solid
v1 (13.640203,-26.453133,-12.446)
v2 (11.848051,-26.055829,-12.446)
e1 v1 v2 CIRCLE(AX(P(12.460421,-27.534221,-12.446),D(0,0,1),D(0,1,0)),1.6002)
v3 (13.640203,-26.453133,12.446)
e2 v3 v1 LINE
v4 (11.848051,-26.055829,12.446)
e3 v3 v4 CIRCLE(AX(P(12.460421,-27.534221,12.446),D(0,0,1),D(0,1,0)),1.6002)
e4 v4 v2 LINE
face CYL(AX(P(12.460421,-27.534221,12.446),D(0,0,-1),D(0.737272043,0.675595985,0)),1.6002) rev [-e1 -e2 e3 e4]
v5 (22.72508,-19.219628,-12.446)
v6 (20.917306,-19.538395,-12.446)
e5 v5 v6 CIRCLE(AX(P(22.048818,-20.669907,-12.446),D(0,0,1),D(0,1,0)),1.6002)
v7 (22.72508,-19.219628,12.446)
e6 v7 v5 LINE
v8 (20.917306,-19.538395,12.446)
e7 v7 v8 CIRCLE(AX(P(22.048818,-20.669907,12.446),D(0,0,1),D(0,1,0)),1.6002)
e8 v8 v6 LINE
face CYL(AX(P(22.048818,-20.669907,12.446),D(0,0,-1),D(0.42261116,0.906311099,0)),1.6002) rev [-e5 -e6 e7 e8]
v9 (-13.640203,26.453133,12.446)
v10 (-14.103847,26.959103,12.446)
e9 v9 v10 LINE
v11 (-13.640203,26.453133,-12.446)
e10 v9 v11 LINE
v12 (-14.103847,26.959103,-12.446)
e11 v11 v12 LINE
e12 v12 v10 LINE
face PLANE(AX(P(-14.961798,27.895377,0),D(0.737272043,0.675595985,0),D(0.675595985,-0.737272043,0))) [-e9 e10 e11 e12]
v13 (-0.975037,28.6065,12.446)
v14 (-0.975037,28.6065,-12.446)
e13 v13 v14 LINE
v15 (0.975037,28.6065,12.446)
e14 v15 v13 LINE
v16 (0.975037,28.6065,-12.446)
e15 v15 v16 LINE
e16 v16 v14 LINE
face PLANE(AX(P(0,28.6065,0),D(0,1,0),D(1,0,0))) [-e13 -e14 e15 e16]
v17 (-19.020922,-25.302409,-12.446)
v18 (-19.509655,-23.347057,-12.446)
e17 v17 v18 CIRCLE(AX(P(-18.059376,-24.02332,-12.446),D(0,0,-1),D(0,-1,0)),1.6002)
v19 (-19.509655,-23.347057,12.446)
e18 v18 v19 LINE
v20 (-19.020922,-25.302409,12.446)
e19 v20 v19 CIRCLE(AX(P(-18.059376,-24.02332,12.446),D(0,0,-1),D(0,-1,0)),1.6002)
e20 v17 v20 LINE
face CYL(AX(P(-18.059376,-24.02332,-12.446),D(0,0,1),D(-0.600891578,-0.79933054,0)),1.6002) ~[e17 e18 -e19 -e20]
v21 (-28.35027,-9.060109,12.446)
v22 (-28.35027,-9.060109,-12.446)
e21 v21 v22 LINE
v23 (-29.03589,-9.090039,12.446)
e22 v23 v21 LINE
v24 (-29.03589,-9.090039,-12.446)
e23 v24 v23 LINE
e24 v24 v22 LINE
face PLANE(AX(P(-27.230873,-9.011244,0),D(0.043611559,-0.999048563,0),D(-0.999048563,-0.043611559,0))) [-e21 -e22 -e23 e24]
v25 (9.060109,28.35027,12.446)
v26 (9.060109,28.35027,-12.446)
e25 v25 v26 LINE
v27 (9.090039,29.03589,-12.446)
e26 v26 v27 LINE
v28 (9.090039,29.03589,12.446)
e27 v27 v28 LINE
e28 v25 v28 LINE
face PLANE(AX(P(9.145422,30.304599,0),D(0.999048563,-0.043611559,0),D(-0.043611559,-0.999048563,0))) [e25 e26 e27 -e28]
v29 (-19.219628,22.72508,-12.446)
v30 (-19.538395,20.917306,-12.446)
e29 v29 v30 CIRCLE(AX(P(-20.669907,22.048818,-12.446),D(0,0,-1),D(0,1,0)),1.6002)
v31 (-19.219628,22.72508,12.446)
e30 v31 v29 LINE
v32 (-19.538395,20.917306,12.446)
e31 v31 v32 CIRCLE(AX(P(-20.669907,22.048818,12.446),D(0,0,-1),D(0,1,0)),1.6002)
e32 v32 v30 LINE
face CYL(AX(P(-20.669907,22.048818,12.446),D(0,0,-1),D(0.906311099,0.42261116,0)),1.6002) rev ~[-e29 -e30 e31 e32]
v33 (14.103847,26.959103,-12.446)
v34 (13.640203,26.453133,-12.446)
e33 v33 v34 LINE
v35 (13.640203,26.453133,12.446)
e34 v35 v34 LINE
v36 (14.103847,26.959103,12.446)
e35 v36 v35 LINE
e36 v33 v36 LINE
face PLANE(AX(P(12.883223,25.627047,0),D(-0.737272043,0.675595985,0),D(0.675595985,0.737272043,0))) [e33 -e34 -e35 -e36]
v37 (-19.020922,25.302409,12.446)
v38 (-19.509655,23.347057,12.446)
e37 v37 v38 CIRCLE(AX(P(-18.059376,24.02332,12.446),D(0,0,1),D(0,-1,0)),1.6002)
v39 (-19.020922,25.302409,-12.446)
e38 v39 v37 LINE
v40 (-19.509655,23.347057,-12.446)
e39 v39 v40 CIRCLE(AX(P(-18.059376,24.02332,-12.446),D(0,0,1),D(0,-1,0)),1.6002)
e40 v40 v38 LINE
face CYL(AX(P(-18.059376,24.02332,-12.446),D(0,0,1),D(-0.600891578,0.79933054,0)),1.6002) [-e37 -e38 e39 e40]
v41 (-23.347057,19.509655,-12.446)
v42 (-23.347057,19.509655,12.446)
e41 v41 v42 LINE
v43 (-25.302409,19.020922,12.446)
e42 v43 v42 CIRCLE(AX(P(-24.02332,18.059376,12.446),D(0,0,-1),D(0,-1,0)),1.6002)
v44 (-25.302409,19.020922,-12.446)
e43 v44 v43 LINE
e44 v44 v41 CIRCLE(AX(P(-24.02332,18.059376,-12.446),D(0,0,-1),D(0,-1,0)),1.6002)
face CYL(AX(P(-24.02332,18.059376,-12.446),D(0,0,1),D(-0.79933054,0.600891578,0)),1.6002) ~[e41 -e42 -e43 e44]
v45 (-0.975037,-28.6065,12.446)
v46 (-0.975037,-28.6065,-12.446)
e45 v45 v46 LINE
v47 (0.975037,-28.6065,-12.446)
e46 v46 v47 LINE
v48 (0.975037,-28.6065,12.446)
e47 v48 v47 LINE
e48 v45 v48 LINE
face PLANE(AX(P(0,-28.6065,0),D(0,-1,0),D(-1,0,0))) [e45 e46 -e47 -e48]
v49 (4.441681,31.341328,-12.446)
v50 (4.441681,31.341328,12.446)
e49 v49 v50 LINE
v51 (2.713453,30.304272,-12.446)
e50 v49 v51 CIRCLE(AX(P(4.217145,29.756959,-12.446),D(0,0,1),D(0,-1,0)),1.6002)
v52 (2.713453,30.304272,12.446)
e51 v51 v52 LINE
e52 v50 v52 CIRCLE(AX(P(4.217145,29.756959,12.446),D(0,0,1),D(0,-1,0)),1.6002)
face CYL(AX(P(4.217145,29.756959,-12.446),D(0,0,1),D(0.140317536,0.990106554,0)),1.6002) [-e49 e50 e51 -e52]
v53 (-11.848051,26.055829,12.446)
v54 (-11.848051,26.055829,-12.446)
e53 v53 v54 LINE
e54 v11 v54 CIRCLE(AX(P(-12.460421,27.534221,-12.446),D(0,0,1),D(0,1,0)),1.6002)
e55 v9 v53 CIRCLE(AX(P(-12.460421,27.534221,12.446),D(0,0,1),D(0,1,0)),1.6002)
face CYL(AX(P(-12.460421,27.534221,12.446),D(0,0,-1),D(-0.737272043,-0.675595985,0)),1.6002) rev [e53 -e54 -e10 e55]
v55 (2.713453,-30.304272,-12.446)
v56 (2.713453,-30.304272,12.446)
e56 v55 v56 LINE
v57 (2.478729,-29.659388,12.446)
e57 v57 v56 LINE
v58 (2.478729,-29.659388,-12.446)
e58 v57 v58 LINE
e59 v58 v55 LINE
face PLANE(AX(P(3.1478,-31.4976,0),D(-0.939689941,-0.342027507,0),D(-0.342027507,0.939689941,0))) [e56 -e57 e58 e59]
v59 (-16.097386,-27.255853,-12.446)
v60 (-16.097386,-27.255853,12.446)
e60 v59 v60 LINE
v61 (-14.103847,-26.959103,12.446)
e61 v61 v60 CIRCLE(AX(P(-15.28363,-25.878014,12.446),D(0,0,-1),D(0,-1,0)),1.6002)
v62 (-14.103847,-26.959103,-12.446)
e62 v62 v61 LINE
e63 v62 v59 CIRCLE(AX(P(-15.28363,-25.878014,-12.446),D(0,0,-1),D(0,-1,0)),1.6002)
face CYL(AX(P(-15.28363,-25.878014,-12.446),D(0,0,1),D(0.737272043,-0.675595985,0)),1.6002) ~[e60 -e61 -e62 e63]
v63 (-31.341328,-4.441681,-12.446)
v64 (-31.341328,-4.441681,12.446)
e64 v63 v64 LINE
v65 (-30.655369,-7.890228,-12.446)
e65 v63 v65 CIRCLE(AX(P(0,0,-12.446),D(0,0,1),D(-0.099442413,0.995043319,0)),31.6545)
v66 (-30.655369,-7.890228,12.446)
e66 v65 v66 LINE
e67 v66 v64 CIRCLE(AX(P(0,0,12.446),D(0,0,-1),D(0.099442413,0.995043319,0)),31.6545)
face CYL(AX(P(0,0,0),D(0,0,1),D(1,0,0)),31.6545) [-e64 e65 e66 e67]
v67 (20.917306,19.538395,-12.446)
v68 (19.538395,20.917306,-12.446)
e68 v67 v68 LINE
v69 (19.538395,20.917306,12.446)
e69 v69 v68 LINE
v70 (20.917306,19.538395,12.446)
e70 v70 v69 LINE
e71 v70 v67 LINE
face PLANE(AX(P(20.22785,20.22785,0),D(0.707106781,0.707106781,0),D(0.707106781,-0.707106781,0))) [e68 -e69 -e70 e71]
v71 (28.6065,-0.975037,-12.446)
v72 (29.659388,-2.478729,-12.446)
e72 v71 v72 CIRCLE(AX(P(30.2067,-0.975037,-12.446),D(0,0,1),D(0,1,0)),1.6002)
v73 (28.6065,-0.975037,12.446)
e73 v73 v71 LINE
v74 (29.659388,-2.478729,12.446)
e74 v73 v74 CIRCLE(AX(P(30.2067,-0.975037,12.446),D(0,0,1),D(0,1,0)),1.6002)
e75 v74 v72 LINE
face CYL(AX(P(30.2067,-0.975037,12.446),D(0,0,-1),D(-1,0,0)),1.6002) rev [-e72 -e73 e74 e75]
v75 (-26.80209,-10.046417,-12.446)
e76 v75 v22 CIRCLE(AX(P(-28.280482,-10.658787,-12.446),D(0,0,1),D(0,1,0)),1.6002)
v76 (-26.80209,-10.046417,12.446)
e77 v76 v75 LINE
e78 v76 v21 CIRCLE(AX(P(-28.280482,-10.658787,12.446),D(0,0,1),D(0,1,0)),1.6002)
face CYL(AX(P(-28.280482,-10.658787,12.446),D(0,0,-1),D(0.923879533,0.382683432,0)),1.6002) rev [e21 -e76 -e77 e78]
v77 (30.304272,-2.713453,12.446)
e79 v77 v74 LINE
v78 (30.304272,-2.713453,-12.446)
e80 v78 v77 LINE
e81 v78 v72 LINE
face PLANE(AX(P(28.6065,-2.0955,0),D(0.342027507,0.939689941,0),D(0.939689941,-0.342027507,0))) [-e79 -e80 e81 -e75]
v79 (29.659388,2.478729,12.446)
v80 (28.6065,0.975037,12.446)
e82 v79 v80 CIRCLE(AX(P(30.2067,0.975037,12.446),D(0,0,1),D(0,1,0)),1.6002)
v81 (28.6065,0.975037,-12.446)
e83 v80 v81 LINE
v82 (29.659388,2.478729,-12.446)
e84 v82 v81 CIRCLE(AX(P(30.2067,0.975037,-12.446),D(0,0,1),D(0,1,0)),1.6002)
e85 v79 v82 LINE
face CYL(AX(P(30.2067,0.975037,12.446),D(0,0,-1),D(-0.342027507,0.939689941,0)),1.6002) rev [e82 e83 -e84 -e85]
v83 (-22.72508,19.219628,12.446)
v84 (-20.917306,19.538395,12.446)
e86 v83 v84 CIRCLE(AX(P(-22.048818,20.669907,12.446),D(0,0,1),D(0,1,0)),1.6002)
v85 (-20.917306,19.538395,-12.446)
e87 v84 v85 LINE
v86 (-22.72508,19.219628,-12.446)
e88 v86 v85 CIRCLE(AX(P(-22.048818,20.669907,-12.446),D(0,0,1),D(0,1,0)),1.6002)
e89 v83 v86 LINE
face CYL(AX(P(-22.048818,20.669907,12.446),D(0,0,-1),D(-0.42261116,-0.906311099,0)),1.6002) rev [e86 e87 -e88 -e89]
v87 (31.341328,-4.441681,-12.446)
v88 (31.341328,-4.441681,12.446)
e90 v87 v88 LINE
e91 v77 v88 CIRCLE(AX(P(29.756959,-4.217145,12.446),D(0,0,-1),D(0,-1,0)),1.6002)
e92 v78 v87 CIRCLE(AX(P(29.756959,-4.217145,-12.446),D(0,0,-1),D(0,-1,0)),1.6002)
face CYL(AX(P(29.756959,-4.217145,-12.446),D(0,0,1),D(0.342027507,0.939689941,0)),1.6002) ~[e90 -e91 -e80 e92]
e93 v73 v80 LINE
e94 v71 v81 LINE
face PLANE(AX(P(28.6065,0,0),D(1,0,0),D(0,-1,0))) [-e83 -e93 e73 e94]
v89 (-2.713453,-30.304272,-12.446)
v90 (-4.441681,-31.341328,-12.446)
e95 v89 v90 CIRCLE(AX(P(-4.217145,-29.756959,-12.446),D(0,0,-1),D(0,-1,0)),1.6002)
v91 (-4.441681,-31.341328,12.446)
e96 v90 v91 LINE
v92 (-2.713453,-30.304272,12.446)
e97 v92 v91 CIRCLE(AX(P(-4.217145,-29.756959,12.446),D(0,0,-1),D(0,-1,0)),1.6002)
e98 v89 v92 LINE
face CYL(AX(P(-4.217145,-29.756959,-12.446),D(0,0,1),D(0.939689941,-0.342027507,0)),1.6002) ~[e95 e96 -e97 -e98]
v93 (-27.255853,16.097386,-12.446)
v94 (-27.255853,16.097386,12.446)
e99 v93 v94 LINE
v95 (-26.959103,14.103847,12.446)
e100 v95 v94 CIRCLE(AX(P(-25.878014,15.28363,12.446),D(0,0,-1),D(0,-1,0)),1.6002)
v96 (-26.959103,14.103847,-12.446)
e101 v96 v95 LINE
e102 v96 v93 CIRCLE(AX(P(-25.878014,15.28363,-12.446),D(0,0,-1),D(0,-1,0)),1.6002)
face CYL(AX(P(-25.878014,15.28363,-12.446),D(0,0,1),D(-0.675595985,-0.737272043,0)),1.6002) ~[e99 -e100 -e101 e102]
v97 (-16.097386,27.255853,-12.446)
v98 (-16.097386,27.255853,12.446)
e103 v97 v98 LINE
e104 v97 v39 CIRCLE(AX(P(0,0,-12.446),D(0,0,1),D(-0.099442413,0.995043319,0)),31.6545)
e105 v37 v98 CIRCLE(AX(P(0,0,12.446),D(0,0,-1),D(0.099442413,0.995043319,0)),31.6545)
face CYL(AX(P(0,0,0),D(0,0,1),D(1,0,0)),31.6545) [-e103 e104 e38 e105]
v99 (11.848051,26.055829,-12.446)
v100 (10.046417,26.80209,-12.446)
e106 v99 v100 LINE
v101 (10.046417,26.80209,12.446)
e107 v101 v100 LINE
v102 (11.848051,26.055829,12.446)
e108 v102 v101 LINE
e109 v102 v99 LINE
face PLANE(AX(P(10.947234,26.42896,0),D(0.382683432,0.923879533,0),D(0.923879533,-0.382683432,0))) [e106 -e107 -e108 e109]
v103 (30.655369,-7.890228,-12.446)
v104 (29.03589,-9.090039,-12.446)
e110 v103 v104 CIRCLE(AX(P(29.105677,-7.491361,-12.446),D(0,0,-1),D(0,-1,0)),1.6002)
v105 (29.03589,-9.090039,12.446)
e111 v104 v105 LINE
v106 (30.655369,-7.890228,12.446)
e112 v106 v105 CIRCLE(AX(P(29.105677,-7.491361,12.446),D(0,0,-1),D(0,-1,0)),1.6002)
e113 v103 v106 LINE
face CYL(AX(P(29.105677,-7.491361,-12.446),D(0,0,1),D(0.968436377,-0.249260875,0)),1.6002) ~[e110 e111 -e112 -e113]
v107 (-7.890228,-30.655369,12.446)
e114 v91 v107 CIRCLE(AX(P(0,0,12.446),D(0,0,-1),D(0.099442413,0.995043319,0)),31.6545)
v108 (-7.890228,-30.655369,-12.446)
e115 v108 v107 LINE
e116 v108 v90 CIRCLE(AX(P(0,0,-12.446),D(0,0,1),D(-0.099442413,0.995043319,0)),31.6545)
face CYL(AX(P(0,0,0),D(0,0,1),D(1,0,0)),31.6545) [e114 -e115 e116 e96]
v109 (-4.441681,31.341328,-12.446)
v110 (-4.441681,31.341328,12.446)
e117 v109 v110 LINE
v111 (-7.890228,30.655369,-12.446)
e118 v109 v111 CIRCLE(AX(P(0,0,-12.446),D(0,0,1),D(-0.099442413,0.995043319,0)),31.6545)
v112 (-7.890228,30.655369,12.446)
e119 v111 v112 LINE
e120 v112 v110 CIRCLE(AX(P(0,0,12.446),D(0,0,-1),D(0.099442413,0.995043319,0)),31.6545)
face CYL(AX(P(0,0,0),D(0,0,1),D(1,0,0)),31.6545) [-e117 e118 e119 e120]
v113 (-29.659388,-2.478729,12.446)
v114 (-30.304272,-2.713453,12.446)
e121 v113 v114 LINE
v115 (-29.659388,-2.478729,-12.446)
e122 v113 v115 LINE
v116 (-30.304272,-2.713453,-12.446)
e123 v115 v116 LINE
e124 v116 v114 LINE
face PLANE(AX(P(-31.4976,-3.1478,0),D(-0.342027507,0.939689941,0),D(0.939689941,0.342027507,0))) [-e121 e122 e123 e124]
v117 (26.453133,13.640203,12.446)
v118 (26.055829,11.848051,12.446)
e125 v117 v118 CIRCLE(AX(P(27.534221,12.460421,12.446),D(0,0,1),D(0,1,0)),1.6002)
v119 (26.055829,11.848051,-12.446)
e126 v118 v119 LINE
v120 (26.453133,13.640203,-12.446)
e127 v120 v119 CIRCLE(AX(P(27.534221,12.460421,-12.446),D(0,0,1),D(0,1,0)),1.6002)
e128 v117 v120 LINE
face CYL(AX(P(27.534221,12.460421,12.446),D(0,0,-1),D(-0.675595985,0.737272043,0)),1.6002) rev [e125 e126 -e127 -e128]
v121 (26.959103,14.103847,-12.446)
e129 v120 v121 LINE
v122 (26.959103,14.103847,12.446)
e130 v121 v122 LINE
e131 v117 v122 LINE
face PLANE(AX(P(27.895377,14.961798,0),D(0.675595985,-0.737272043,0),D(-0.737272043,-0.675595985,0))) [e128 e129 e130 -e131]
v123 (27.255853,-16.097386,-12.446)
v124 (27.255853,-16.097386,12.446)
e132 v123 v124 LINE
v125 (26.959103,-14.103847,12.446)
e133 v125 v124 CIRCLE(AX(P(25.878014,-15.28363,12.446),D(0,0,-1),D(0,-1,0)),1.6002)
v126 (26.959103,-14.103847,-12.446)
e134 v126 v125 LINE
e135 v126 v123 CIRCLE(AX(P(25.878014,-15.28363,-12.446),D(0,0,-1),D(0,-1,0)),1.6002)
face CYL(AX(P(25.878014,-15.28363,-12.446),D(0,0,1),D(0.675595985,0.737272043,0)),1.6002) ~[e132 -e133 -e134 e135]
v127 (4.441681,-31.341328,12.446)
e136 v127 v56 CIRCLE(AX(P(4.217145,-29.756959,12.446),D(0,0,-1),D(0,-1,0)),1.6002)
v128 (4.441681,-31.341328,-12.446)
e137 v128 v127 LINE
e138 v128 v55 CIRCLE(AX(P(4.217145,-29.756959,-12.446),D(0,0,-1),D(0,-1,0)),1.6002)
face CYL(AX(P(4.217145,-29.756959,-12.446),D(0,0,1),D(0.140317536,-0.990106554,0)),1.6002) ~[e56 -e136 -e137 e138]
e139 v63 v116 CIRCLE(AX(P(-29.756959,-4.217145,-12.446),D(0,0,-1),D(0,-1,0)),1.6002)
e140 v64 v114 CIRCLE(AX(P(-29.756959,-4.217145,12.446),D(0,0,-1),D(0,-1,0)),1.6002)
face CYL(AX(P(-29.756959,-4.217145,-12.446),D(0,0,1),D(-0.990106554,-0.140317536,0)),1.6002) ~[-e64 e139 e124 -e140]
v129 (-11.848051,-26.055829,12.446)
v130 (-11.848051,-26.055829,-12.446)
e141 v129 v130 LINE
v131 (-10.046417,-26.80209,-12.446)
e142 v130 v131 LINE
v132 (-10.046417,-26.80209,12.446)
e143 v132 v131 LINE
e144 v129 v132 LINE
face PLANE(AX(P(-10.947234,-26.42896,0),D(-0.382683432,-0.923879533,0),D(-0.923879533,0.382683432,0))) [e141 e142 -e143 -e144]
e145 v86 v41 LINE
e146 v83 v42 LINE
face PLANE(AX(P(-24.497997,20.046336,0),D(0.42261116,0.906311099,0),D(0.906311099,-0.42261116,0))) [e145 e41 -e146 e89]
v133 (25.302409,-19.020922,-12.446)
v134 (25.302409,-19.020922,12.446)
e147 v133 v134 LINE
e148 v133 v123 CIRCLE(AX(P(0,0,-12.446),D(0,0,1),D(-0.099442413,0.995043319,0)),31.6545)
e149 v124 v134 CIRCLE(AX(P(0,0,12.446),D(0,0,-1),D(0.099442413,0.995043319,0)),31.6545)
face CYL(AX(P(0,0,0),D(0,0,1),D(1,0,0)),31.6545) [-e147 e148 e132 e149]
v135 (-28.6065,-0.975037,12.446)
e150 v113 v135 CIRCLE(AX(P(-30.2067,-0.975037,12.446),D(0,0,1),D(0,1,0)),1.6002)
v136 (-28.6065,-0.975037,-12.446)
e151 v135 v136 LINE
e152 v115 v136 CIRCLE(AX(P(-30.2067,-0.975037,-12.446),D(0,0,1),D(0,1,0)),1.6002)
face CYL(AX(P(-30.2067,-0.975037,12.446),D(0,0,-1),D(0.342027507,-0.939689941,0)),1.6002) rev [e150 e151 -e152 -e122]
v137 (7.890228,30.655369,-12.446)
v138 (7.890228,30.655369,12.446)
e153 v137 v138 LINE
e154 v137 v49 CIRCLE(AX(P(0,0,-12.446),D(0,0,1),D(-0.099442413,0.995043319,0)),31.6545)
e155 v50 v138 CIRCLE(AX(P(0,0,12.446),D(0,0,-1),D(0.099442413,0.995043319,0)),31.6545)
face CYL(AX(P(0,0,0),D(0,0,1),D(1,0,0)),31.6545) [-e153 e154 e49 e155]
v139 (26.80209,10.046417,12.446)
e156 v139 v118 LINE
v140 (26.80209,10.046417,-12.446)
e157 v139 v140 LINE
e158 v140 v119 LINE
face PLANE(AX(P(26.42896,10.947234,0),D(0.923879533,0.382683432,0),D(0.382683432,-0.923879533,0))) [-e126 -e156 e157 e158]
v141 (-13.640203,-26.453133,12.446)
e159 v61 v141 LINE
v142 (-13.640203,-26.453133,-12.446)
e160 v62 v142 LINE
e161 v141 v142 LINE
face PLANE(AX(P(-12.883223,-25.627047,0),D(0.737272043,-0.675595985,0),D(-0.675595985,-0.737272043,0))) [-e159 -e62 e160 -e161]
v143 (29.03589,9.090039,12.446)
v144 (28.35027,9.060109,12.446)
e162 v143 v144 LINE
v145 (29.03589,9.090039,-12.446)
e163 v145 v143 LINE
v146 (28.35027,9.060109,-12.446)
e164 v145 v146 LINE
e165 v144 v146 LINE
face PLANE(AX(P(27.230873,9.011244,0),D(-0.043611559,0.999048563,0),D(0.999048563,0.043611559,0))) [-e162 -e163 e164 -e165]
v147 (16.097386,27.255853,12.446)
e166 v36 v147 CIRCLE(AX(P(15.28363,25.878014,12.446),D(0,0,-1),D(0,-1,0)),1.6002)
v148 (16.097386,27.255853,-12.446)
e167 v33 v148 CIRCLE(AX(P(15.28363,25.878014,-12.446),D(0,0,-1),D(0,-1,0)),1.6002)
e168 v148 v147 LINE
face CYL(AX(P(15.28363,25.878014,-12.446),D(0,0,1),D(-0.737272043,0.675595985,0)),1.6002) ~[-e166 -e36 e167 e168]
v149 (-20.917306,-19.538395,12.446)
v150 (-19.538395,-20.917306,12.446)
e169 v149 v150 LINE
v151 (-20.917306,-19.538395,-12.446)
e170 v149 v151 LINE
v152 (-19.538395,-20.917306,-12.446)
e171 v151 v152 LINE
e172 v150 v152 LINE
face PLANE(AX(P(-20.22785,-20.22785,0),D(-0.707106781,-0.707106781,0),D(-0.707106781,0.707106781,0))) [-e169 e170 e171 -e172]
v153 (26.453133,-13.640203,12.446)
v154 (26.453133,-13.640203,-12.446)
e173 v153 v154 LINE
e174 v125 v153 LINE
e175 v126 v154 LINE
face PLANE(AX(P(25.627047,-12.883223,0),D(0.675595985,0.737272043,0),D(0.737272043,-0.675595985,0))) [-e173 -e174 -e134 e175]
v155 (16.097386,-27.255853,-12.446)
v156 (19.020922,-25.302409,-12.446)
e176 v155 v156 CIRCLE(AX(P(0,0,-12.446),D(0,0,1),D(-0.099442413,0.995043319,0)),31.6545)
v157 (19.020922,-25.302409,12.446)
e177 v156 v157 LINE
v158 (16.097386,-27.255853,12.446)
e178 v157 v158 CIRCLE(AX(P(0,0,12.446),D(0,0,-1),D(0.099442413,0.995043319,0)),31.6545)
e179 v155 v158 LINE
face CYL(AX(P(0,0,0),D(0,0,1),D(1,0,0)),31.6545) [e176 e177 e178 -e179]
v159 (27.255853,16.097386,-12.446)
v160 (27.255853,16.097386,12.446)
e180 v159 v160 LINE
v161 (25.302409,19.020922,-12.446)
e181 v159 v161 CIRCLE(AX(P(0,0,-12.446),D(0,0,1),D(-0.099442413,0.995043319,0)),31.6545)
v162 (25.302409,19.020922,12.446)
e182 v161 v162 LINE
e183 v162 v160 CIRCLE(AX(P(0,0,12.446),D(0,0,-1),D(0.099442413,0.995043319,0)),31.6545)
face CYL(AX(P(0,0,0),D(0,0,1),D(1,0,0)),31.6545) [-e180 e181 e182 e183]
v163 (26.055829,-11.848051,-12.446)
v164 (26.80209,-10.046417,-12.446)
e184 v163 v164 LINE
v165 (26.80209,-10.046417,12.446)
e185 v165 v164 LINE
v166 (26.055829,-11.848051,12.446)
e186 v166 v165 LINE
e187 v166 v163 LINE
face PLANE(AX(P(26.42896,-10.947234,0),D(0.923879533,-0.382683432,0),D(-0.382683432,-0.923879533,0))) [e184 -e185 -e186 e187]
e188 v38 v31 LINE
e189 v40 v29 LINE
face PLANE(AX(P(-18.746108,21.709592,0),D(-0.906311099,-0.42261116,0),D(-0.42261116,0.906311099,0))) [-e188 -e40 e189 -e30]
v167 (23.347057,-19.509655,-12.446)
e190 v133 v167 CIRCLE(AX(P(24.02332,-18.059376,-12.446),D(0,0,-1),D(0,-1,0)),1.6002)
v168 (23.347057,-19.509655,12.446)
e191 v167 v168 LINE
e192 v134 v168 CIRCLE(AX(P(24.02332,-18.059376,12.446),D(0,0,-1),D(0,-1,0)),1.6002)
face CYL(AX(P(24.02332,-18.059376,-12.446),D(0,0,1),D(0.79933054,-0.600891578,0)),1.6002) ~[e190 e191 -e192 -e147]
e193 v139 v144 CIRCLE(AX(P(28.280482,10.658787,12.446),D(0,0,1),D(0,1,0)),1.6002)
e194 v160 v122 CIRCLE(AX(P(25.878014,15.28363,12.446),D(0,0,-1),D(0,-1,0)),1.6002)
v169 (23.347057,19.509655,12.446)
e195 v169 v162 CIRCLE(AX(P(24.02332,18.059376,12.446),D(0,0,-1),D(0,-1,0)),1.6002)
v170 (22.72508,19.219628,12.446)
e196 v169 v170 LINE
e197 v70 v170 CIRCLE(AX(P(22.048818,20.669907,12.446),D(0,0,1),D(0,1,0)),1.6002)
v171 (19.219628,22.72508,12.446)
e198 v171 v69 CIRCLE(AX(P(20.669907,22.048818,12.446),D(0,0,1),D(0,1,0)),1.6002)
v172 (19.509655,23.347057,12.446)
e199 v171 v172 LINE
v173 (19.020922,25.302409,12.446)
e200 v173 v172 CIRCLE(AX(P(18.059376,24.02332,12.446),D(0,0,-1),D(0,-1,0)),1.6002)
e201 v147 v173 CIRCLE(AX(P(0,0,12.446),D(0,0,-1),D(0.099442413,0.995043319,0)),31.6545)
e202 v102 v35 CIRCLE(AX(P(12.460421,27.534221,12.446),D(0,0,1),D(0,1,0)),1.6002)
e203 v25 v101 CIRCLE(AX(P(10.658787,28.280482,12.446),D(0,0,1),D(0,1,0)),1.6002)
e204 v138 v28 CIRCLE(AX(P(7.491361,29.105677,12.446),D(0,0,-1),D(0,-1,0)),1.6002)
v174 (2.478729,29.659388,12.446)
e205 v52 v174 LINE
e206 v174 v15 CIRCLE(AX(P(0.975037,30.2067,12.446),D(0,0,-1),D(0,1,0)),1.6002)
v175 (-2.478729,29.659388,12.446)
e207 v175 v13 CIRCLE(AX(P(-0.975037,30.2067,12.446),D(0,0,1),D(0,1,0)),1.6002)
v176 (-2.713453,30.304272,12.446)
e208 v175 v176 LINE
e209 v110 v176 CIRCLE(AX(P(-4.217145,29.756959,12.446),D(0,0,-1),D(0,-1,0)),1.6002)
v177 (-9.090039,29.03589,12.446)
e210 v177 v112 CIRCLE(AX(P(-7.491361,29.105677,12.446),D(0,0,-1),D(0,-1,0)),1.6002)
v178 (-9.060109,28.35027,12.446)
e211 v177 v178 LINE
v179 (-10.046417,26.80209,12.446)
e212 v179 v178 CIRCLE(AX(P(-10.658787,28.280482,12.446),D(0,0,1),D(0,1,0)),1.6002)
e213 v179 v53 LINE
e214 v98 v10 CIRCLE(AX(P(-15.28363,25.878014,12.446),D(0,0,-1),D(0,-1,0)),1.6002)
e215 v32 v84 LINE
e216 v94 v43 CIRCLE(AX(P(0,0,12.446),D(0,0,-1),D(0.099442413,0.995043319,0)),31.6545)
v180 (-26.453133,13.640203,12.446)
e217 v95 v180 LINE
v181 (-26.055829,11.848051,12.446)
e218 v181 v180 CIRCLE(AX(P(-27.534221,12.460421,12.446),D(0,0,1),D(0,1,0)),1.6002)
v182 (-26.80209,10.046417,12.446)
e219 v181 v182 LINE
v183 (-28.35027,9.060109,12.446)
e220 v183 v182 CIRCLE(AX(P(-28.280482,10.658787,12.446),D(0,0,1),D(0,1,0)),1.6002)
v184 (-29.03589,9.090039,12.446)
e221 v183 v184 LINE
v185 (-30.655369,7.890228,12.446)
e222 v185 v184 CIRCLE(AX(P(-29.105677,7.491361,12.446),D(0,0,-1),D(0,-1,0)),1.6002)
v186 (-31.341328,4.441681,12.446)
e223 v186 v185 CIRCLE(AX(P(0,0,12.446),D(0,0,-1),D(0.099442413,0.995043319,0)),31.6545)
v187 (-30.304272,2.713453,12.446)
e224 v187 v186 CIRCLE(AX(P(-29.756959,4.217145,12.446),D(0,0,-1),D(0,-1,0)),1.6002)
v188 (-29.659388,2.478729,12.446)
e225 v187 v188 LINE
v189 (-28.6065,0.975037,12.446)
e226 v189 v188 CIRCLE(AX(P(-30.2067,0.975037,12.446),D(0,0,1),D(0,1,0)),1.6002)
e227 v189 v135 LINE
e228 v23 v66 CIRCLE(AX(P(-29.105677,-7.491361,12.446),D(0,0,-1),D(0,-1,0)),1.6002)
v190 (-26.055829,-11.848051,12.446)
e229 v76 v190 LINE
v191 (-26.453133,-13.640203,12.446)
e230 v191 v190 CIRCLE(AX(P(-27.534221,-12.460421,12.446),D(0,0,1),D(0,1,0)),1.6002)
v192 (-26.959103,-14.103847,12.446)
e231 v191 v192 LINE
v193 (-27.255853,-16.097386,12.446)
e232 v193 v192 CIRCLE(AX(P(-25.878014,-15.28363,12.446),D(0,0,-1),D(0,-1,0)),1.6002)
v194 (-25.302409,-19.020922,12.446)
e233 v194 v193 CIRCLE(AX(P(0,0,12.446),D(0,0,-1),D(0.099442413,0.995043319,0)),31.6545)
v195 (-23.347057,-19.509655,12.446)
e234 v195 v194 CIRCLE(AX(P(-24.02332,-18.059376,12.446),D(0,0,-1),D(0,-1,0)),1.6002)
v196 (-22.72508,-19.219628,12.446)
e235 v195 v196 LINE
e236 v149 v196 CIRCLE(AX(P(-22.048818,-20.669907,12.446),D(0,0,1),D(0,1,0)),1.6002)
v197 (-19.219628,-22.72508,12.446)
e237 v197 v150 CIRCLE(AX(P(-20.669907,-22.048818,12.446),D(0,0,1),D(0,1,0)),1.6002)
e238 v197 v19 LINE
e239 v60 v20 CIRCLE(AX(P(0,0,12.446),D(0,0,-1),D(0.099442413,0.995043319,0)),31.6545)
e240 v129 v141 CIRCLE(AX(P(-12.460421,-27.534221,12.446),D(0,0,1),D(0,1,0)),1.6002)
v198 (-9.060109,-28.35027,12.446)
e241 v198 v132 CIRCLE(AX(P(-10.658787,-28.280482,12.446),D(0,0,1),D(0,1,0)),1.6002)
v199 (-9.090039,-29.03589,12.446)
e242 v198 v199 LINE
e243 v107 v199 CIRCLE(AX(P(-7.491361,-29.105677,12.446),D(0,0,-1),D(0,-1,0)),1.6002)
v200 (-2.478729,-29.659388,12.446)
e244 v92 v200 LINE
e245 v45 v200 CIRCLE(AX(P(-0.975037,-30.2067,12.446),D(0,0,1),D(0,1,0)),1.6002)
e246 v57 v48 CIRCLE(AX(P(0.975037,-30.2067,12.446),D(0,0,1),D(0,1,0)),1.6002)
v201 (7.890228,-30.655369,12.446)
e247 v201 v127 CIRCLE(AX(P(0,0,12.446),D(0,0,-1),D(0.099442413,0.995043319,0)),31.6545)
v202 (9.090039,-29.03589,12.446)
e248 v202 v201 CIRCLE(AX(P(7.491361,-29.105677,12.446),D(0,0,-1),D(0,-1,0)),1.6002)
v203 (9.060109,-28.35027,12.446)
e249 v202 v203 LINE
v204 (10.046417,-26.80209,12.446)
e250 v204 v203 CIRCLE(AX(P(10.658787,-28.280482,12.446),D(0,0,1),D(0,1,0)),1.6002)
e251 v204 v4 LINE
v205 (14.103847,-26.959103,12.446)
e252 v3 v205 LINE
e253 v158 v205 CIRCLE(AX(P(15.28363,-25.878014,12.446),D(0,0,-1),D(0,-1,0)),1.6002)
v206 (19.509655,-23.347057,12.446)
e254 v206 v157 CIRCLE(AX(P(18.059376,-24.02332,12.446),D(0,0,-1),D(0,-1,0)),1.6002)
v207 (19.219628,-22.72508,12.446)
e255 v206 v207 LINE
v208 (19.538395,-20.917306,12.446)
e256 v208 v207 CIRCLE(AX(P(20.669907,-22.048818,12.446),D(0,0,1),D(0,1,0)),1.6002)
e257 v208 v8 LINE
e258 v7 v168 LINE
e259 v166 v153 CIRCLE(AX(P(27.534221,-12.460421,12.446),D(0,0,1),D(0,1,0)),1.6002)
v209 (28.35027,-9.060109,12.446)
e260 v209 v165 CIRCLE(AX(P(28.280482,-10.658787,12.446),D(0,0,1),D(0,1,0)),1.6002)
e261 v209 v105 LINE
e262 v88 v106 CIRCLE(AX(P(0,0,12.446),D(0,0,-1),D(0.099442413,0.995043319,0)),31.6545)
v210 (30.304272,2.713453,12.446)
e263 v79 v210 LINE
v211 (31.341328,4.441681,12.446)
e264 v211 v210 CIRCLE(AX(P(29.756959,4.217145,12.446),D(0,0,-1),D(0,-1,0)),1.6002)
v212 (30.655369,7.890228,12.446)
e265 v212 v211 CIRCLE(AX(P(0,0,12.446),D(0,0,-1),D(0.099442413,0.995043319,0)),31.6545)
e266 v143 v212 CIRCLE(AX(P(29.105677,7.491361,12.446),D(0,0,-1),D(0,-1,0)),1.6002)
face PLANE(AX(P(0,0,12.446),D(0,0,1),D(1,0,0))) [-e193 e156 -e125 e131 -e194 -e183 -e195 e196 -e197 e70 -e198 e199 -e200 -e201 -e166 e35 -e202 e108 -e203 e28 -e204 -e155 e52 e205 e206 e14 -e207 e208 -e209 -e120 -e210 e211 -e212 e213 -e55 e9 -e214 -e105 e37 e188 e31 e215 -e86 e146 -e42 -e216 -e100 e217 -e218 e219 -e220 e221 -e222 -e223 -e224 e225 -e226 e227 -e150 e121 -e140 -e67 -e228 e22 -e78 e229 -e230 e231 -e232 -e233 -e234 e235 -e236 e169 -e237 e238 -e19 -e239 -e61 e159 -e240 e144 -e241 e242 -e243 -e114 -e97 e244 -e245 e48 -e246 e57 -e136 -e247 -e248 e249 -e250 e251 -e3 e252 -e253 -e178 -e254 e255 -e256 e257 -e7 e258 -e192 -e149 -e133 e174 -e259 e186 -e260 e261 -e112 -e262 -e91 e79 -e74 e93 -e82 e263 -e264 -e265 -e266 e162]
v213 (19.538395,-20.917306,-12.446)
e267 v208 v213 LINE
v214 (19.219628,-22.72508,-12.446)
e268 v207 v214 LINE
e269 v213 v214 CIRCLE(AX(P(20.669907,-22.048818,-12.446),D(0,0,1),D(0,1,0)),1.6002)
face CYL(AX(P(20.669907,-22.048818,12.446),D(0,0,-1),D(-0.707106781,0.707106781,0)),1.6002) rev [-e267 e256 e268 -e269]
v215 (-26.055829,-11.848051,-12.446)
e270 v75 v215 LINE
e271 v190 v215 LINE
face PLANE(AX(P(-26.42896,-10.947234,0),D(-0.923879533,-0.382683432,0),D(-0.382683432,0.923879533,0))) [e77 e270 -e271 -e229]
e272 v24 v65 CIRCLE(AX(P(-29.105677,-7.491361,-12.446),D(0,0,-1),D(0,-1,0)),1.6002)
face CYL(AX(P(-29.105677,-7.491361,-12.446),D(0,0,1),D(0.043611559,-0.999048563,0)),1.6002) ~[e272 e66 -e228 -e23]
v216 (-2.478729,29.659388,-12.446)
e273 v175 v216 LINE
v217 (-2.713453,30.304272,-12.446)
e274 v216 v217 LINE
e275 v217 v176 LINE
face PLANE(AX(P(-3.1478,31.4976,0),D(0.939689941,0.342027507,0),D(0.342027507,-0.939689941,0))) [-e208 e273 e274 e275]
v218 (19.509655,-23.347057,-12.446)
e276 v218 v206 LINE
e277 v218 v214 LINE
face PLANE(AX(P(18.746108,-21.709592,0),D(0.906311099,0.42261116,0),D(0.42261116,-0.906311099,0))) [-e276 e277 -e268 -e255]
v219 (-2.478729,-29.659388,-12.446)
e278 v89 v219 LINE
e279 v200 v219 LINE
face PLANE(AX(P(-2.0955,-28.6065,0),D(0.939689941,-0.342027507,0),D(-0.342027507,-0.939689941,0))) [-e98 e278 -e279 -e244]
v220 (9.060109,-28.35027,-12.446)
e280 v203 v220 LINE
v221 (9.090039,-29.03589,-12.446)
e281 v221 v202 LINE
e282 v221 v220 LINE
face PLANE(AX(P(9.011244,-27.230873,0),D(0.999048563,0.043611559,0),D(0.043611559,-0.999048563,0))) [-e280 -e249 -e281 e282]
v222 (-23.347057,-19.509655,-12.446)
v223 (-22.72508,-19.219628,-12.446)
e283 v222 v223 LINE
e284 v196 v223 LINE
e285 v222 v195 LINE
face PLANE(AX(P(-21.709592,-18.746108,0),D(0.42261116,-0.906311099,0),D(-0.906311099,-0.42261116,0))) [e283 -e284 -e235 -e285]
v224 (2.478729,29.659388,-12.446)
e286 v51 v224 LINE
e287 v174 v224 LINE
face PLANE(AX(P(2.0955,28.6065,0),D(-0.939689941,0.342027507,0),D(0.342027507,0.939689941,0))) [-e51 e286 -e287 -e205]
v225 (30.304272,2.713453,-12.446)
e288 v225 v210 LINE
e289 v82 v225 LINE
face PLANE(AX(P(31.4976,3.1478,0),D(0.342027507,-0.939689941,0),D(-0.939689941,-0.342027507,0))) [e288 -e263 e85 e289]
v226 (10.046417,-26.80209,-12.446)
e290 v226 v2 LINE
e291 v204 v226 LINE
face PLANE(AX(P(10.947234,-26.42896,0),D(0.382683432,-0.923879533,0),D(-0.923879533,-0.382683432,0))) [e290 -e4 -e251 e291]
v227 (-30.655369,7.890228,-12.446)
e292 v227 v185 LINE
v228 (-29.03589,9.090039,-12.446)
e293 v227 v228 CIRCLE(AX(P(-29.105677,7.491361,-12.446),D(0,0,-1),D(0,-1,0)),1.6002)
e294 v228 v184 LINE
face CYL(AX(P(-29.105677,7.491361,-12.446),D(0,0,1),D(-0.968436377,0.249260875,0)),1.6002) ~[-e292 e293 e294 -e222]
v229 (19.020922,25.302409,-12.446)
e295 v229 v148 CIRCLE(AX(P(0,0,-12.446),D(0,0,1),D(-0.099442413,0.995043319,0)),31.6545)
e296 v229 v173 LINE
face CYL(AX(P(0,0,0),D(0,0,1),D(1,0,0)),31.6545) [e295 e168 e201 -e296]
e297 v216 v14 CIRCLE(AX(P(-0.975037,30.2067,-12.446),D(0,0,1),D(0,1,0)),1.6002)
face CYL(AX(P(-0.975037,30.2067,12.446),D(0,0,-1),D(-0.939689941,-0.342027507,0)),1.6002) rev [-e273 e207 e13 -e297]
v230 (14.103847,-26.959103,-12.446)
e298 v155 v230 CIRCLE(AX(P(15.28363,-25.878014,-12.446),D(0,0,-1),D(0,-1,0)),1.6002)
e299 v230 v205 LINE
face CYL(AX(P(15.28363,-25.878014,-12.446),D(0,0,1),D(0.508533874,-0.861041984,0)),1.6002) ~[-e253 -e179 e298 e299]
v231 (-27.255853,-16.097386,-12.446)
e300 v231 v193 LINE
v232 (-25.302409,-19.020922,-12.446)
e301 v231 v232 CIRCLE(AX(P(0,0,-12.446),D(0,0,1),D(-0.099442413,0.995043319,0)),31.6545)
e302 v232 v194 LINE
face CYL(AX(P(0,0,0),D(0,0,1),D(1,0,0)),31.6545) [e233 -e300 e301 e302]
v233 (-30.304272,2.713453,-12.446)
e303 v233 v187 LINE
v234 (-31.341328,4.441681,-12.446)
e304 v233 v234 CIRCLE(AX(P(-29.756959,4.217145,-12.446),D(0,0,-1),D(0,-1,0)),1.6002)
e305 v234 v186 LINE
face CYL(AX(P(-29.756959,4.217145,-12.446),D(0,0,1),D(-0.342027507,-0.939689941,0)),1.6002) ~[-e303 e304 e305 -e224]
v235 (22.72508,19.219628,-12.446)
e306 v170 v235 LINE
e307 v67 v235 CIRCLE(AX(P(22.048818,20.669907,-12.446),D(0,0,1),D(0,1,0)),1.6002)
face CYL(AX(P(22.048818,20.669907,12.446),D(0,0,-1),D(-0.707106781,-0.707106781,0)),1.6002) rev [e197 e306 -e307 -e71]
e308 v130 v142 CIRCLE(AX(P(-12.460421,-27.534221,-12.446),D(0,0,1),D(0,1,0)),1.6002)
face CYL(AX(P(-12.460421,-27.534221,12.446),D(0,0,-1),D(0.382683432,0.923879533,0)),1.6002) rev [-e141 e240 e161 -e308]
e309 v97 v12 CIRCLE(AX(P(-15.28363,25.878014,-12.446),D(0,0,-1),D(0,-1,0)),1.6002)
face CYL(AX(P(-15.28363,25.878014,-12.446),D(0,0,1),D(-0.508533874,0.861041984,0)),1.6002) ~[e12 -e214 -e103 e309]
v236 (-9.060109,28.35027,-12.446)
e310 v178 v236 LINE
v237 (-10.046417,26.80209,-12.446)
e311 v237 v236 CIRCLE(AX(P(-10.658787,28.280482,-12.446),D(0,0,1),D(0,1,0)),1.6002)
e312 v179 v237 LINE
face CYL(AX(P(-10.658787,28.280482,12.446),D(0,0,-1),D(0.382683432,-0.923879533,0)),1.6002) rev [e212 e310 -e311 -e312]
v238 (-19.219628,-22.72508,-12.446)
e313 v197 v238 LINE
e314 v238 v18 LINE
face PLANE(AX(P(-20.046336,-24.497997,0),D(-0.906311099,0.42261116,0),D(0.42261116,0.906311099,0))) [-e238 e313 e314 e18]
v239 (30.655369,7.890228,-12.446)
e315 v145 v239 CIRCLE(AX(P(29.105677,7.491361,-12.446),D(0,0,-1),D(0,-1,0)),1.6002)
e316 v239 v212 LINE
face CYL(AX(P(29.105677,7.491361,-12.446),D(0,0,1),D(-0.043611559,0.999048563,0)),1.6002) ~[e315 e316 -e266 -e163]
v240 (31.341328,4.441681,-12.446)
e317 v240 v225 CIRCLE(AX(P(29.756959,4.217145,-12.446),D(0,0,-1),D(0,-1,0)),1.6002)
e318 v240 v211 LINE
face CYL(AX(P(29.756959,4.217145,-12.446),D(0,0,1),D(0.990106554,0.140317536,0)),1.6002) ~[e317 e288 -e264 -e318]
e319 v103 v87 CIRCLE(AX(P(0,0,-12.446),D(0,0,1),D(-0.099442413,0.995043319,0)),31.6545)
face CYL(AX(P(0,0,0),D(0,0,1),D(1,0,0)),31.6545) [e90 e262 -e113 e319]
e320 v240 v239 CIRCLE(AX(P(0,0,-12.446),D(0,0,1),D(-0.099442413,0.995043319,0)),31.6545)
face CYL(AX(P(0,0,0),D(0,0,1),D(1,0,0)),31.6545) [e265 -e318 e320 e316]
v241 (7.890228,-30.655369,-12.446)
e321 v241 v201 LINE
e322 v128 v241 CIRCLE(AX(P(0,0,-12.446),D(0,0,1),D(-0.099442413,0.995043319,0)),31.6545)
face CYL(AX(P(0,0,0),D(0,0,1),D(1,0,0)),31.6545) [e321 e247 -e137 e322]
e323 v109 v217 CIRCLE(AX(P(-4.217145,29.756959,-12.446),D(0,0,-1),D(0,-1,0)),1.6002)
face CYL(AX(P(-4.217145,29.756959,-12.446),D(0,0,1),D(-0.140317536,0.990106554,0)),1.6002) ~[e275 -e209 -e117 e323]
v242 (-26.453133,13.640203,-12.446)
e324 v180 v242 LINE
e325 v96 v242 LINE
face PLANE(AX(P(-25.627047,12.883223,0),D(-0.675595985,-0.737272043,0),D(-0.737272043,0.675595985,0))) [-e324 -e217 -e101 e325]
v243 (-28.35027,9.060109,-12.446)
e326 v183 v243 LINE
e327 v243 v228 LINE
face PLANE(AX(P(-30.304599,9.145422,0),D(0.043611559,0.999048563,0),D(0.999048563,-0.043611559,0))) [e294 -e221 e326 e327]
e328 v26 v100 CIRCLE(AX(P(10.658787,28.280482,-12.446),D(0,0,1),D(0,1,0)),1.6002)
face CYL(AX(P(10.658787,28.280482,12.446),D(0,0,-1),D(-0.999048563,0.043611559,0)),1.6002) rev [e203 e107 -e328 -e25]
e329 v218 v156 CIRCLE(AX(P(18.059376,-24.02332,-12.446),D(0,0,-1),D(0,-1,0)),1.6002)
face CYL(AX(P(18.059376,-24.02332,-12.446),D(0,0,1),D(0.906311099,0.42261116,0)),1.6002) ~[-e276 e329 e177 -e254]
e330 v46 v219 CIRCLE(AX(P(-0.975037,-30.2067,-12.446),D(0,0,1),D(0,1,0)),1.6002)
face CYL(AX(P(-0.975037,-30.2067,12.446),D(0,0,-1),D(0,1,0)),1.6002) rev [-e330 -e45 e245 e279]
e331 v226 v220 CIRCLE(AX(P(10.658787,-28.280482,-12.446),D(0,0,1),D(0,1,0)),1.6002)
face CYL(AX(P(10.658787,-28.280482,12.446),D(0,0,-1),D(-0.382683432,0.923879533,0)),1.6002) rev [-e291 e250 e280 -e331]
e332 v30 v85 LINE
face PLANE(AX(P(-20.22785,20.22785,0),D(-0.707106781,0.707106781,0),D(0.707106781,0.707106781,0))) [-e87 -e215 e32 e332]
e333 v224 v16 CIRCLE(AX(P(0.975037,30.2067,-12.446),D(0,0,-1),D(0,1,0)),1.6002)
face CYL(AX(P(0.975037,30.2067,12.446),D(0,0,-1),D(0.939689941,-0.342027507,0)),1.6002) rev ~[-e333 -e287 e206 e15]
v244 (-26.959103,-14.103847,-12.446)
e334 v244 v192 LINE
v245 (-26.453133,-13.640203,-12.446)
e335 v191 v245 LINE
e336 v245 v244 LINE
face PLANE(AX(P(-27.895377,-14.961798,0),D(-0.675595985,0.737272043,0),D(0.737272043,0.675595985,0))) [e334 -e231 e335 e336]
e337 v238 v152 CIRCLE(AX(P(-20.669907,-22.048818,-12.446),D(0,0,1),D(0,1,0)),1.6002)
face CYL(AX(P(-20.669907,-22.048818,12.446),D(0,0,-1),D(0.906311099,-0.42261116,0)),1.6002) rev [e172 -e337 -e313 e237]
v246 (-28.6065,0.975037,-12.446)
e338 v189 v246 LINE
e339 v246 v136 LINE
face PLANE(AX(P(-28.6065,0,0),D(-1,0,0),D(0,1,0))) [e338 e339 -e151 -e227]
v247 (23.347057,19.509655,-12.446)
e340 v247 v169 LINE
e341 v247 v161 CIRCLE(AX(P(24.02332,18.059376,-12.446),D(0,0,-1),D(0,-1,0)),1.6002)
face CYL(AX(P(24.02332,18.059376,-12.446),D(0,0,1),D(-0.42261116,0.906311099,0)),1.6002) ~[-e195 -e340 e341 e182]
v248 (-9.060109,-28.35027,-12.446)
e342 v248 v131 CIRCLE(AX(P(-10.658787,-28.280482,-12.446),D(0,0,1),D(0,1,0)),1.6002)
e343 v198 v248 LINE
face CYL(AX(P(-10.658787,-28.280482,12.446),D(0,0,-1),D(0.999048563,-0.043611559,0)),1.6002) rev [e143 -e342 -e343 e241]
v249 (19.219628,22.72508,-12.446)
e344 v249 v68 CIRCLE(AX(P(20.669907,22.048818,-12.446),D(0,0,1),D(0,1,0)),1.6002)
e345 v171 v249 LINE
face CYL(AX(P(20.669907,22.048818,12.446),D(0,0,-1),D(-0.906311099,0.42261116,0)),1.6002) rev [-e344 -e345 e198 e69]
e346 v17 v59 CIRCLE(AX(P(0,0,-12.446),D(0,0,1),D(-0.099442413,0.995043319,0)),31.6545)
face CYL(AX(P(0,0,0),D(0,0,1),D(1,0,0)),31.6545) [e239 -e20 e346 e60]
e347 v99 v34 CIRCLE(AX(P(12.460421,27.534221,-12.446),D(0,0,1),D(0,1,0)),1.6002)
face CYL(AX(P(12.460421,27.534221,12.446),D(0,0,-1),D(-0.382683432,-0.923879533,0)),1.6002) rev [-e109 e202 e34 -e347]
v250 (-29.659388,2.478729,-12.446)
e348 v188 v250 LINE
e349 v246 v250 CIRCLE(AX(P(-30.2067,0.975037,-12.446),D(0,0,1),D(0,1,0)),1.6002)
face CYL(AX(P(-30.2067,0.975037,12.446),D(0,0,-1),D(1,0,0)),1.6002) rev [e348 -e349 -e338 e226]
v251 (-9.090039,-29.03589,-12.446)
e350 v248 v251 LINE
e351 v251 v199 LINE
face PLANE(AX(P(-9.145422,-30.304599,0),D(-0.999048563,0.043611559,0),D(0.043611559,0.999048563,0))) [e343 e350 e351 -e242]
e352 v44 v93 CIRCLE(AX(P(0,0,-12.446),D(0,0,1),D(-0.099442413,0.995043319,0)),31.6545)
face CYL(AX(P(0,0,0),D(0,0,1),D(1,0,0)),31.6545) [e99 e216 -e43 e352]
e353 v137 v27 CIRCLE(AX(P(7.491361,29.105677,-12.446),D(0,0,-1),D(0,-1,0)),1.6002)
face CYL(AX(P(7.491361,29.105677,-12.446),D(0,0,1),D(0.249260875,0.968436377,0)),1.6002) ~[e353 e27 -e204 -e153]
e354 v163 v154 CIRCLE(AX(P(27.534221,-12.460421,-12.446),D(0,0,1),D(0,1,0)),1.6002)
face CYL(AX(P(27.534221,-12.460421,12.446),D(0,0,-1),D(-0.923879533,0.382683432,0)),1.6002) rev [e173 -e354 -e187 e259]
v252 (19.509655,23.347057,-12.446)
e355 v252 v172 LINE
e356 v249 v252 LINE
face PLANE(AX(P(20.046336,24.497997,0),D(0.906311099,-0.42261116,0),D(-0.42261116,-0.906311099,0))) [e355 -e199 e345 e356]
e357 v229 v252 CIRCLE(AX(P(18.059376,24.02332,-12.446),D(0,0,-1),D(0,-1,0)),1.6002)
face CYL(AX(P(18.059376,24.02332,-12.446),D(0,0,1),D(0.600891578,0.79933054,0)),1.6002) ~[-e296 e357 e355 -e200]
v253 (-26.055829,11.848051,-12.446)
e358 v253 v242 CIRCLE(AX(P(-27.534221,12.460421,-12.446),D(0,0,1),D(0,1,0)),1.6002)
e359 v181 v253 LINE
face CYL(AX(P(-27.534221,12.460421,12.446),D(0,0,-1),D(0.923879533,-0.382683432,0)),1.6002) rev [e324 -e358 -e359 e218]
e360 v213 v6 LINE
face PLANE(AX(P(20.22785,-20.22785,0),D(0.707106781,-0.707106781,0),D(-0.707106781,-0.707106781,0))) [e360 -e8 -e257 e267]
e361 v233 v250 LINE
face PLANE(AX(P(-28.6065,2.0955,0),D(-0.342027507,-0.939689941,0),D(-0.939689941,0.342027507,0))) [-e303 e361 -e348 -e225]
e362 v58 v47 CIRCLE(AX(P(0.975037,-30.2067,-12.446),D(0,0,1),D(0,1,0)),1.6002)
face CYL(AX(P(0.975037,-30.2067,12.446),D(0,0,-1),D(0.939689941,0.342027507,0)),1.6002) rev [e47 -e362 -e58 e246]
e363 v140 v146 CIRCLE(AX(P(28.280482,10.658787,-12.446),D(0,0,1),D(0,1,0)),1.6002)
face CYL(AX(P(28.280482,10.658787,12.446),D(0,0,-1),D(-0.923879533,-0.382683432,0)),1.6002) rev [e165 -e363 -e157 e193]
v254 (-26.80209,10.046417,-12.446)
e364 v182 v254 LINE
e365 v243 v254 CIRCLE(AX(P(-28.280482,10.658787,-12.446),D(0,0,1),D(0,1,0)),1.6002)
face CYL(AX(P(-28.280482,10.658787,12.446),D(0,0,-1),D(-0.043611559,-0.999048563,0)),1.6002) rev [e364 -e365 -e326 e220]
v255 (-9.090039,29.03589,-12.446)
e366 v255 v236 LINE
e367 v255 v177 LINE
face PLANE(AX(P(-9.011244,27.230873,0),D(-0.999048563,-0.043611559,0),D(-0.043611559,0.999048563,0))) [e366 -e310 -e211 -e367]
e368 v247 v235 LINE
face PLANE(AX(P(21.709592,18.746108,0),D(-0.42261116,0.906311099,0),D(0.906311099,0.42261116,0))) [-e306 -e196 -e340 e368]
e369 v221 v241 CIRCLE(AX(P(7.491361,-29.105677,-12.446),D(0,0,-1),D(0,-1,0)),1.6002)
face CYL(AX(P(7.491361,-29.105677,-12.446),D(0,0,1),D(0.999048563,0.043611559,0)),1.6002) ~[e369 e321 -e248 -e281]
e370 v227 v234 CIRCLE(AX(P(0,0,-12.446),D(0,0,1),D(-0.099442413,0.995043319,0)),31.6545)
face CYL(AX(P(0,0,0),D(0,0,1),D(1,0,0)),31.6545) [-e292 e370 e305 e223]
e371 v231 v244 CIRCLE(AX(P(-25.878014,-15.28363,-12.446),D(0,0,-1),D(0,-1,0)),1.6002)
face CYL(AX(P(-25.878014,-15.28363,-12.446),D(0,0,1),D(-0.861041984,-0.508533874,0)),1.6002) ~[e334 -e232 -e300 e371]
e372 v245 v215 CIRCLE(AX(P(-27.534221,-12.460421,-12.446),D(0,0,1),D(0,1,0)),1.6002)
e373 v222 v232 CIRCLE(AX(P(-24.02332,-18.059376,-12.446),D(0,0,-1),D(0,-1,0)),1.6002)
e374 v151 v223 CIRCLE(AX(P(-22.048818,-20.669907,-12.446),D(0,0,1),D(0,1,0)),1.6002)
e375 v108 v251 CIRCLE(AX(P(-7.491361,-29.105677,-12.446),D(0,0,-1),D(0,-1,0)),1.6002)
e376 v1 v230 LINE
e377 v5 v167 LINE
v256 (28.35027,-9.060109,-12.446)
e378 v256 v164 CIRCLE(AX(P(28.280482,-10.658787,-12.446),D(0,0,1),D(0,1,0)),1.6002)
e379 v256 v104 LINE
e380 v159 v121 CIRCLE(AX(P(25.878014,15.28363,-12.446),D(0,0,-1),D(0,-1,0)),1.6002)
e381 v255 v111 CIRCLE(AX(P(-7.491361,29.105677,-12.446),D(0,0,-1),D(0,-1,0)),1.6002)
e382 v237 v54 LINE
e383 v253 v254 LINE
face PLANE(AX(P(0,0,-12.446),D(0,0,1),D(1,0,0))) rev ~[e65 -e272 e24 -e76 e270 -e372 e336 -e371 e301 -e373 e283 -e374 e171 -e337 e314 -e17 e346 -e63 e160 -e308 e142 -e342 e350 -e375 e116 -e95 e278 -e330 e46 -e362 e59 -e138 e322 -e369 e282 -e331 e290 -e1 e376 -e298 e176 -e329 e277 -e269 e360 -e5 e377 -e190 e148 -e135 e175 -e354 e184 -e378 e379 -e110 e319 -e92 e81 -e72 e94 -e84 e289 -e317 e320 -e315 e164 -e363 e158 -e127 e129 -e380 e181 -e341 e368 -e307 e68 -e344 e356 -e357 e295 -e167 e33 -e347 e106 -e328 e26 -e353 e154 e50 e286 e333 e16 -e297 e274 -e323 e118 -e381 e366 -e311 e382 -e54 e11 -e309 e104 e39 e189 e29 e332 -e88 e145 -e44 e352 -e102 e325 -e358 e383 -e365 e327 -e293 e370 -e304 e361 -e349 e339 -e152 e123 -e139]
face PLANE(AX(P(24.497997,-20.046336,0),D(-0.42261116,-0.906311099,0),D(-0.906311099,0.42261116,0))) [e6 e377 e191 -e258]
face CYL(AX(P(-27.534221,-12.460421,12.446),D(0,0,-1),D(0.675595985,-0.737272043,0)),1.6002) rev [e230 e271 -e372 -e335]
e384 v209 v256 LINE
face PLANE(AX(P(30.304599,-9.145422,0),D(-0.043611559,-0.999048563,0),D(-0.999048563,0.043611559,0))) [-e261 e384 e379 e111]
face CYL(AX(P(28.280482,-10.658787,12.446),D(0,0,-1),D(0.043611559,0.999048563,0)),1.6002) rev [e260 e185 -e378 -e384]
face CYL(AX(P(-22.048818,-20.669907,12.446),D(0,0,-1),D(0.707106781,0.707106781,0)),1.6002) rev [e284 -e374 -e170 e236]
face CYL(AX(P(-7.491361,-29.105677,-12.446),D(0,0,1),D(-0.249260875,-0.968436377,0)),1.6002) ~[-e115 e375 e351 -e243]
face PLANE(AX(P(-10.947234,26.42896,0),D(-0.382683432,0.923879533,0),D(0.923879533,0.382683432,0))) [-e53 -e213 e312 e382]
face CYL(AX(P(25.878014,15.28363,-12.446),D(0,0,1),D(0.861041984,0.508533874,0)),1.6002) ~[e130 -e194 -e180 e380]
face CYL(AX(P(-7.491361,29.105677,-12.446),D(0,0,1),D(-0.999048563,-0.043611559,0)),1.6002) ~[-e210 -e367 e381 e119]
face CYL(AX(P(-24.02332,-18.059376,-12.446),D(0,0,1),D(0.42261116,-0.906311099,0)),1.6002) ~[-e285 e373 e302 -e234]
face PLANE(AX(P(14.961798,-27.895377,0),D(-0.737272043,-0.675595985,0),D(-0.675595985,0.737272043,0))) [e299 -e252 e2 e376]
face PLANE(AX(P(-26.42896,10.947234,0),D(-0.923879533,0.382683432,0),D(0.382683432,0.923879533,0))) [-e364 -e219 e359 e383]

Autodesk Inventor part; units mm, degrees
ref_plane "YZ Plane" through (0, 0, 0) normal (1, 0, 0) x (0, 1, 0)
ref_plane "XZ Plane" through (0, 0, 0) normal (0, 1, 0) x (-1, 0, 0)
ref_plane "XY Plane" through (0, 0, 0) normal (0, 0, 1) x (1, 0, 0)
sketch "Эскиз шкива" plane through (0, 0, 0) normal (0, 0, 1) x (1, 0, 0)
  circle A0 centre (0, 0) radius 32.3403 construction
  circle A1 centre (0, 0) radius 31.6545
  circle A2 centre (0, 0) radius 28.6065
  line L0 (-3.1478, 31.4976) -> (-2.0955, 28.6065)
  line L1 (-2.0955, 28.6065) -> (2.0955, 28.6065)
  line L2 (2.0955, 28.6065) -> (3.1478, 31.4976)
  line L3 (0, 0) -> (0, 31.6545) construction
  point P0 (0, 28.6065)
  dimension "d0" = 64.6806
  dimension "d1" = 0.6858
  dimension "d2" = 3.048
  dimension "d3" = 40
  dimension "d4" = 4.191
extrude "Базовое тело" add sketch "Эскиз шкива" along normal mid plane 24.892 contours A2 | A1 L0 L1 L2 | L2 L1 L0 A1
extrude "Зуб" cut sketch "Эскиз шкива" along normal through all both and the other way through all contours L2 L1 L0 A1 picked at (0, 30.6269)
fillet "Fillet" radius 1.6002 2 edges at (2.0955, 28.6065, 0) (-2.0955, 28.6065, 0)
fillet "Fillet" radius 1.6002 4 edges at (-3.1478, 31.4976, 6.223) (-3.1478, 31.4976, -6.223) (3.1478, 31.4976, 6.223) (3.1478, 31.4976, -6.223)
pattern_circular "Зубья" count 16 over 360 about axis through (0, 0, -10) along (0, 0, 1) of "Зуб", "Fillet"
feature "Левый фланец" [suppressed]
feature "Правый фланец" [suppressed]
equation "\"d1\" = da_a"
equation "\"d2\" = da_hg"
equation "\"d3\" = 2 * da_fi"
equation "\"d4\" = da_bw"
equation "\"d5\" = da_bf"
equation "\"d7\" = da_bf"
equation "\"d9\" = da_rb"
equation "\"d10\" = da_rt"
equation "\"da_pb\" = 12.7"
equation "\"da_fi\" = 20deg"
equation "\"da_hg\" = 3.048"
equation "\"da_bw\" = 4.191"
equation "\"da_rb\" = 1.6002"
equation "\"da_rt\" = 1.6002"
equation "\"da_a\" = 0.6858"
equation "\"da_bf\" = 24.892"
equation "\"da_wf\" = 1.27"
equation "\"da_hf\" = 2.032"
properties part number "Синхронный шкив2" material "Steel"
